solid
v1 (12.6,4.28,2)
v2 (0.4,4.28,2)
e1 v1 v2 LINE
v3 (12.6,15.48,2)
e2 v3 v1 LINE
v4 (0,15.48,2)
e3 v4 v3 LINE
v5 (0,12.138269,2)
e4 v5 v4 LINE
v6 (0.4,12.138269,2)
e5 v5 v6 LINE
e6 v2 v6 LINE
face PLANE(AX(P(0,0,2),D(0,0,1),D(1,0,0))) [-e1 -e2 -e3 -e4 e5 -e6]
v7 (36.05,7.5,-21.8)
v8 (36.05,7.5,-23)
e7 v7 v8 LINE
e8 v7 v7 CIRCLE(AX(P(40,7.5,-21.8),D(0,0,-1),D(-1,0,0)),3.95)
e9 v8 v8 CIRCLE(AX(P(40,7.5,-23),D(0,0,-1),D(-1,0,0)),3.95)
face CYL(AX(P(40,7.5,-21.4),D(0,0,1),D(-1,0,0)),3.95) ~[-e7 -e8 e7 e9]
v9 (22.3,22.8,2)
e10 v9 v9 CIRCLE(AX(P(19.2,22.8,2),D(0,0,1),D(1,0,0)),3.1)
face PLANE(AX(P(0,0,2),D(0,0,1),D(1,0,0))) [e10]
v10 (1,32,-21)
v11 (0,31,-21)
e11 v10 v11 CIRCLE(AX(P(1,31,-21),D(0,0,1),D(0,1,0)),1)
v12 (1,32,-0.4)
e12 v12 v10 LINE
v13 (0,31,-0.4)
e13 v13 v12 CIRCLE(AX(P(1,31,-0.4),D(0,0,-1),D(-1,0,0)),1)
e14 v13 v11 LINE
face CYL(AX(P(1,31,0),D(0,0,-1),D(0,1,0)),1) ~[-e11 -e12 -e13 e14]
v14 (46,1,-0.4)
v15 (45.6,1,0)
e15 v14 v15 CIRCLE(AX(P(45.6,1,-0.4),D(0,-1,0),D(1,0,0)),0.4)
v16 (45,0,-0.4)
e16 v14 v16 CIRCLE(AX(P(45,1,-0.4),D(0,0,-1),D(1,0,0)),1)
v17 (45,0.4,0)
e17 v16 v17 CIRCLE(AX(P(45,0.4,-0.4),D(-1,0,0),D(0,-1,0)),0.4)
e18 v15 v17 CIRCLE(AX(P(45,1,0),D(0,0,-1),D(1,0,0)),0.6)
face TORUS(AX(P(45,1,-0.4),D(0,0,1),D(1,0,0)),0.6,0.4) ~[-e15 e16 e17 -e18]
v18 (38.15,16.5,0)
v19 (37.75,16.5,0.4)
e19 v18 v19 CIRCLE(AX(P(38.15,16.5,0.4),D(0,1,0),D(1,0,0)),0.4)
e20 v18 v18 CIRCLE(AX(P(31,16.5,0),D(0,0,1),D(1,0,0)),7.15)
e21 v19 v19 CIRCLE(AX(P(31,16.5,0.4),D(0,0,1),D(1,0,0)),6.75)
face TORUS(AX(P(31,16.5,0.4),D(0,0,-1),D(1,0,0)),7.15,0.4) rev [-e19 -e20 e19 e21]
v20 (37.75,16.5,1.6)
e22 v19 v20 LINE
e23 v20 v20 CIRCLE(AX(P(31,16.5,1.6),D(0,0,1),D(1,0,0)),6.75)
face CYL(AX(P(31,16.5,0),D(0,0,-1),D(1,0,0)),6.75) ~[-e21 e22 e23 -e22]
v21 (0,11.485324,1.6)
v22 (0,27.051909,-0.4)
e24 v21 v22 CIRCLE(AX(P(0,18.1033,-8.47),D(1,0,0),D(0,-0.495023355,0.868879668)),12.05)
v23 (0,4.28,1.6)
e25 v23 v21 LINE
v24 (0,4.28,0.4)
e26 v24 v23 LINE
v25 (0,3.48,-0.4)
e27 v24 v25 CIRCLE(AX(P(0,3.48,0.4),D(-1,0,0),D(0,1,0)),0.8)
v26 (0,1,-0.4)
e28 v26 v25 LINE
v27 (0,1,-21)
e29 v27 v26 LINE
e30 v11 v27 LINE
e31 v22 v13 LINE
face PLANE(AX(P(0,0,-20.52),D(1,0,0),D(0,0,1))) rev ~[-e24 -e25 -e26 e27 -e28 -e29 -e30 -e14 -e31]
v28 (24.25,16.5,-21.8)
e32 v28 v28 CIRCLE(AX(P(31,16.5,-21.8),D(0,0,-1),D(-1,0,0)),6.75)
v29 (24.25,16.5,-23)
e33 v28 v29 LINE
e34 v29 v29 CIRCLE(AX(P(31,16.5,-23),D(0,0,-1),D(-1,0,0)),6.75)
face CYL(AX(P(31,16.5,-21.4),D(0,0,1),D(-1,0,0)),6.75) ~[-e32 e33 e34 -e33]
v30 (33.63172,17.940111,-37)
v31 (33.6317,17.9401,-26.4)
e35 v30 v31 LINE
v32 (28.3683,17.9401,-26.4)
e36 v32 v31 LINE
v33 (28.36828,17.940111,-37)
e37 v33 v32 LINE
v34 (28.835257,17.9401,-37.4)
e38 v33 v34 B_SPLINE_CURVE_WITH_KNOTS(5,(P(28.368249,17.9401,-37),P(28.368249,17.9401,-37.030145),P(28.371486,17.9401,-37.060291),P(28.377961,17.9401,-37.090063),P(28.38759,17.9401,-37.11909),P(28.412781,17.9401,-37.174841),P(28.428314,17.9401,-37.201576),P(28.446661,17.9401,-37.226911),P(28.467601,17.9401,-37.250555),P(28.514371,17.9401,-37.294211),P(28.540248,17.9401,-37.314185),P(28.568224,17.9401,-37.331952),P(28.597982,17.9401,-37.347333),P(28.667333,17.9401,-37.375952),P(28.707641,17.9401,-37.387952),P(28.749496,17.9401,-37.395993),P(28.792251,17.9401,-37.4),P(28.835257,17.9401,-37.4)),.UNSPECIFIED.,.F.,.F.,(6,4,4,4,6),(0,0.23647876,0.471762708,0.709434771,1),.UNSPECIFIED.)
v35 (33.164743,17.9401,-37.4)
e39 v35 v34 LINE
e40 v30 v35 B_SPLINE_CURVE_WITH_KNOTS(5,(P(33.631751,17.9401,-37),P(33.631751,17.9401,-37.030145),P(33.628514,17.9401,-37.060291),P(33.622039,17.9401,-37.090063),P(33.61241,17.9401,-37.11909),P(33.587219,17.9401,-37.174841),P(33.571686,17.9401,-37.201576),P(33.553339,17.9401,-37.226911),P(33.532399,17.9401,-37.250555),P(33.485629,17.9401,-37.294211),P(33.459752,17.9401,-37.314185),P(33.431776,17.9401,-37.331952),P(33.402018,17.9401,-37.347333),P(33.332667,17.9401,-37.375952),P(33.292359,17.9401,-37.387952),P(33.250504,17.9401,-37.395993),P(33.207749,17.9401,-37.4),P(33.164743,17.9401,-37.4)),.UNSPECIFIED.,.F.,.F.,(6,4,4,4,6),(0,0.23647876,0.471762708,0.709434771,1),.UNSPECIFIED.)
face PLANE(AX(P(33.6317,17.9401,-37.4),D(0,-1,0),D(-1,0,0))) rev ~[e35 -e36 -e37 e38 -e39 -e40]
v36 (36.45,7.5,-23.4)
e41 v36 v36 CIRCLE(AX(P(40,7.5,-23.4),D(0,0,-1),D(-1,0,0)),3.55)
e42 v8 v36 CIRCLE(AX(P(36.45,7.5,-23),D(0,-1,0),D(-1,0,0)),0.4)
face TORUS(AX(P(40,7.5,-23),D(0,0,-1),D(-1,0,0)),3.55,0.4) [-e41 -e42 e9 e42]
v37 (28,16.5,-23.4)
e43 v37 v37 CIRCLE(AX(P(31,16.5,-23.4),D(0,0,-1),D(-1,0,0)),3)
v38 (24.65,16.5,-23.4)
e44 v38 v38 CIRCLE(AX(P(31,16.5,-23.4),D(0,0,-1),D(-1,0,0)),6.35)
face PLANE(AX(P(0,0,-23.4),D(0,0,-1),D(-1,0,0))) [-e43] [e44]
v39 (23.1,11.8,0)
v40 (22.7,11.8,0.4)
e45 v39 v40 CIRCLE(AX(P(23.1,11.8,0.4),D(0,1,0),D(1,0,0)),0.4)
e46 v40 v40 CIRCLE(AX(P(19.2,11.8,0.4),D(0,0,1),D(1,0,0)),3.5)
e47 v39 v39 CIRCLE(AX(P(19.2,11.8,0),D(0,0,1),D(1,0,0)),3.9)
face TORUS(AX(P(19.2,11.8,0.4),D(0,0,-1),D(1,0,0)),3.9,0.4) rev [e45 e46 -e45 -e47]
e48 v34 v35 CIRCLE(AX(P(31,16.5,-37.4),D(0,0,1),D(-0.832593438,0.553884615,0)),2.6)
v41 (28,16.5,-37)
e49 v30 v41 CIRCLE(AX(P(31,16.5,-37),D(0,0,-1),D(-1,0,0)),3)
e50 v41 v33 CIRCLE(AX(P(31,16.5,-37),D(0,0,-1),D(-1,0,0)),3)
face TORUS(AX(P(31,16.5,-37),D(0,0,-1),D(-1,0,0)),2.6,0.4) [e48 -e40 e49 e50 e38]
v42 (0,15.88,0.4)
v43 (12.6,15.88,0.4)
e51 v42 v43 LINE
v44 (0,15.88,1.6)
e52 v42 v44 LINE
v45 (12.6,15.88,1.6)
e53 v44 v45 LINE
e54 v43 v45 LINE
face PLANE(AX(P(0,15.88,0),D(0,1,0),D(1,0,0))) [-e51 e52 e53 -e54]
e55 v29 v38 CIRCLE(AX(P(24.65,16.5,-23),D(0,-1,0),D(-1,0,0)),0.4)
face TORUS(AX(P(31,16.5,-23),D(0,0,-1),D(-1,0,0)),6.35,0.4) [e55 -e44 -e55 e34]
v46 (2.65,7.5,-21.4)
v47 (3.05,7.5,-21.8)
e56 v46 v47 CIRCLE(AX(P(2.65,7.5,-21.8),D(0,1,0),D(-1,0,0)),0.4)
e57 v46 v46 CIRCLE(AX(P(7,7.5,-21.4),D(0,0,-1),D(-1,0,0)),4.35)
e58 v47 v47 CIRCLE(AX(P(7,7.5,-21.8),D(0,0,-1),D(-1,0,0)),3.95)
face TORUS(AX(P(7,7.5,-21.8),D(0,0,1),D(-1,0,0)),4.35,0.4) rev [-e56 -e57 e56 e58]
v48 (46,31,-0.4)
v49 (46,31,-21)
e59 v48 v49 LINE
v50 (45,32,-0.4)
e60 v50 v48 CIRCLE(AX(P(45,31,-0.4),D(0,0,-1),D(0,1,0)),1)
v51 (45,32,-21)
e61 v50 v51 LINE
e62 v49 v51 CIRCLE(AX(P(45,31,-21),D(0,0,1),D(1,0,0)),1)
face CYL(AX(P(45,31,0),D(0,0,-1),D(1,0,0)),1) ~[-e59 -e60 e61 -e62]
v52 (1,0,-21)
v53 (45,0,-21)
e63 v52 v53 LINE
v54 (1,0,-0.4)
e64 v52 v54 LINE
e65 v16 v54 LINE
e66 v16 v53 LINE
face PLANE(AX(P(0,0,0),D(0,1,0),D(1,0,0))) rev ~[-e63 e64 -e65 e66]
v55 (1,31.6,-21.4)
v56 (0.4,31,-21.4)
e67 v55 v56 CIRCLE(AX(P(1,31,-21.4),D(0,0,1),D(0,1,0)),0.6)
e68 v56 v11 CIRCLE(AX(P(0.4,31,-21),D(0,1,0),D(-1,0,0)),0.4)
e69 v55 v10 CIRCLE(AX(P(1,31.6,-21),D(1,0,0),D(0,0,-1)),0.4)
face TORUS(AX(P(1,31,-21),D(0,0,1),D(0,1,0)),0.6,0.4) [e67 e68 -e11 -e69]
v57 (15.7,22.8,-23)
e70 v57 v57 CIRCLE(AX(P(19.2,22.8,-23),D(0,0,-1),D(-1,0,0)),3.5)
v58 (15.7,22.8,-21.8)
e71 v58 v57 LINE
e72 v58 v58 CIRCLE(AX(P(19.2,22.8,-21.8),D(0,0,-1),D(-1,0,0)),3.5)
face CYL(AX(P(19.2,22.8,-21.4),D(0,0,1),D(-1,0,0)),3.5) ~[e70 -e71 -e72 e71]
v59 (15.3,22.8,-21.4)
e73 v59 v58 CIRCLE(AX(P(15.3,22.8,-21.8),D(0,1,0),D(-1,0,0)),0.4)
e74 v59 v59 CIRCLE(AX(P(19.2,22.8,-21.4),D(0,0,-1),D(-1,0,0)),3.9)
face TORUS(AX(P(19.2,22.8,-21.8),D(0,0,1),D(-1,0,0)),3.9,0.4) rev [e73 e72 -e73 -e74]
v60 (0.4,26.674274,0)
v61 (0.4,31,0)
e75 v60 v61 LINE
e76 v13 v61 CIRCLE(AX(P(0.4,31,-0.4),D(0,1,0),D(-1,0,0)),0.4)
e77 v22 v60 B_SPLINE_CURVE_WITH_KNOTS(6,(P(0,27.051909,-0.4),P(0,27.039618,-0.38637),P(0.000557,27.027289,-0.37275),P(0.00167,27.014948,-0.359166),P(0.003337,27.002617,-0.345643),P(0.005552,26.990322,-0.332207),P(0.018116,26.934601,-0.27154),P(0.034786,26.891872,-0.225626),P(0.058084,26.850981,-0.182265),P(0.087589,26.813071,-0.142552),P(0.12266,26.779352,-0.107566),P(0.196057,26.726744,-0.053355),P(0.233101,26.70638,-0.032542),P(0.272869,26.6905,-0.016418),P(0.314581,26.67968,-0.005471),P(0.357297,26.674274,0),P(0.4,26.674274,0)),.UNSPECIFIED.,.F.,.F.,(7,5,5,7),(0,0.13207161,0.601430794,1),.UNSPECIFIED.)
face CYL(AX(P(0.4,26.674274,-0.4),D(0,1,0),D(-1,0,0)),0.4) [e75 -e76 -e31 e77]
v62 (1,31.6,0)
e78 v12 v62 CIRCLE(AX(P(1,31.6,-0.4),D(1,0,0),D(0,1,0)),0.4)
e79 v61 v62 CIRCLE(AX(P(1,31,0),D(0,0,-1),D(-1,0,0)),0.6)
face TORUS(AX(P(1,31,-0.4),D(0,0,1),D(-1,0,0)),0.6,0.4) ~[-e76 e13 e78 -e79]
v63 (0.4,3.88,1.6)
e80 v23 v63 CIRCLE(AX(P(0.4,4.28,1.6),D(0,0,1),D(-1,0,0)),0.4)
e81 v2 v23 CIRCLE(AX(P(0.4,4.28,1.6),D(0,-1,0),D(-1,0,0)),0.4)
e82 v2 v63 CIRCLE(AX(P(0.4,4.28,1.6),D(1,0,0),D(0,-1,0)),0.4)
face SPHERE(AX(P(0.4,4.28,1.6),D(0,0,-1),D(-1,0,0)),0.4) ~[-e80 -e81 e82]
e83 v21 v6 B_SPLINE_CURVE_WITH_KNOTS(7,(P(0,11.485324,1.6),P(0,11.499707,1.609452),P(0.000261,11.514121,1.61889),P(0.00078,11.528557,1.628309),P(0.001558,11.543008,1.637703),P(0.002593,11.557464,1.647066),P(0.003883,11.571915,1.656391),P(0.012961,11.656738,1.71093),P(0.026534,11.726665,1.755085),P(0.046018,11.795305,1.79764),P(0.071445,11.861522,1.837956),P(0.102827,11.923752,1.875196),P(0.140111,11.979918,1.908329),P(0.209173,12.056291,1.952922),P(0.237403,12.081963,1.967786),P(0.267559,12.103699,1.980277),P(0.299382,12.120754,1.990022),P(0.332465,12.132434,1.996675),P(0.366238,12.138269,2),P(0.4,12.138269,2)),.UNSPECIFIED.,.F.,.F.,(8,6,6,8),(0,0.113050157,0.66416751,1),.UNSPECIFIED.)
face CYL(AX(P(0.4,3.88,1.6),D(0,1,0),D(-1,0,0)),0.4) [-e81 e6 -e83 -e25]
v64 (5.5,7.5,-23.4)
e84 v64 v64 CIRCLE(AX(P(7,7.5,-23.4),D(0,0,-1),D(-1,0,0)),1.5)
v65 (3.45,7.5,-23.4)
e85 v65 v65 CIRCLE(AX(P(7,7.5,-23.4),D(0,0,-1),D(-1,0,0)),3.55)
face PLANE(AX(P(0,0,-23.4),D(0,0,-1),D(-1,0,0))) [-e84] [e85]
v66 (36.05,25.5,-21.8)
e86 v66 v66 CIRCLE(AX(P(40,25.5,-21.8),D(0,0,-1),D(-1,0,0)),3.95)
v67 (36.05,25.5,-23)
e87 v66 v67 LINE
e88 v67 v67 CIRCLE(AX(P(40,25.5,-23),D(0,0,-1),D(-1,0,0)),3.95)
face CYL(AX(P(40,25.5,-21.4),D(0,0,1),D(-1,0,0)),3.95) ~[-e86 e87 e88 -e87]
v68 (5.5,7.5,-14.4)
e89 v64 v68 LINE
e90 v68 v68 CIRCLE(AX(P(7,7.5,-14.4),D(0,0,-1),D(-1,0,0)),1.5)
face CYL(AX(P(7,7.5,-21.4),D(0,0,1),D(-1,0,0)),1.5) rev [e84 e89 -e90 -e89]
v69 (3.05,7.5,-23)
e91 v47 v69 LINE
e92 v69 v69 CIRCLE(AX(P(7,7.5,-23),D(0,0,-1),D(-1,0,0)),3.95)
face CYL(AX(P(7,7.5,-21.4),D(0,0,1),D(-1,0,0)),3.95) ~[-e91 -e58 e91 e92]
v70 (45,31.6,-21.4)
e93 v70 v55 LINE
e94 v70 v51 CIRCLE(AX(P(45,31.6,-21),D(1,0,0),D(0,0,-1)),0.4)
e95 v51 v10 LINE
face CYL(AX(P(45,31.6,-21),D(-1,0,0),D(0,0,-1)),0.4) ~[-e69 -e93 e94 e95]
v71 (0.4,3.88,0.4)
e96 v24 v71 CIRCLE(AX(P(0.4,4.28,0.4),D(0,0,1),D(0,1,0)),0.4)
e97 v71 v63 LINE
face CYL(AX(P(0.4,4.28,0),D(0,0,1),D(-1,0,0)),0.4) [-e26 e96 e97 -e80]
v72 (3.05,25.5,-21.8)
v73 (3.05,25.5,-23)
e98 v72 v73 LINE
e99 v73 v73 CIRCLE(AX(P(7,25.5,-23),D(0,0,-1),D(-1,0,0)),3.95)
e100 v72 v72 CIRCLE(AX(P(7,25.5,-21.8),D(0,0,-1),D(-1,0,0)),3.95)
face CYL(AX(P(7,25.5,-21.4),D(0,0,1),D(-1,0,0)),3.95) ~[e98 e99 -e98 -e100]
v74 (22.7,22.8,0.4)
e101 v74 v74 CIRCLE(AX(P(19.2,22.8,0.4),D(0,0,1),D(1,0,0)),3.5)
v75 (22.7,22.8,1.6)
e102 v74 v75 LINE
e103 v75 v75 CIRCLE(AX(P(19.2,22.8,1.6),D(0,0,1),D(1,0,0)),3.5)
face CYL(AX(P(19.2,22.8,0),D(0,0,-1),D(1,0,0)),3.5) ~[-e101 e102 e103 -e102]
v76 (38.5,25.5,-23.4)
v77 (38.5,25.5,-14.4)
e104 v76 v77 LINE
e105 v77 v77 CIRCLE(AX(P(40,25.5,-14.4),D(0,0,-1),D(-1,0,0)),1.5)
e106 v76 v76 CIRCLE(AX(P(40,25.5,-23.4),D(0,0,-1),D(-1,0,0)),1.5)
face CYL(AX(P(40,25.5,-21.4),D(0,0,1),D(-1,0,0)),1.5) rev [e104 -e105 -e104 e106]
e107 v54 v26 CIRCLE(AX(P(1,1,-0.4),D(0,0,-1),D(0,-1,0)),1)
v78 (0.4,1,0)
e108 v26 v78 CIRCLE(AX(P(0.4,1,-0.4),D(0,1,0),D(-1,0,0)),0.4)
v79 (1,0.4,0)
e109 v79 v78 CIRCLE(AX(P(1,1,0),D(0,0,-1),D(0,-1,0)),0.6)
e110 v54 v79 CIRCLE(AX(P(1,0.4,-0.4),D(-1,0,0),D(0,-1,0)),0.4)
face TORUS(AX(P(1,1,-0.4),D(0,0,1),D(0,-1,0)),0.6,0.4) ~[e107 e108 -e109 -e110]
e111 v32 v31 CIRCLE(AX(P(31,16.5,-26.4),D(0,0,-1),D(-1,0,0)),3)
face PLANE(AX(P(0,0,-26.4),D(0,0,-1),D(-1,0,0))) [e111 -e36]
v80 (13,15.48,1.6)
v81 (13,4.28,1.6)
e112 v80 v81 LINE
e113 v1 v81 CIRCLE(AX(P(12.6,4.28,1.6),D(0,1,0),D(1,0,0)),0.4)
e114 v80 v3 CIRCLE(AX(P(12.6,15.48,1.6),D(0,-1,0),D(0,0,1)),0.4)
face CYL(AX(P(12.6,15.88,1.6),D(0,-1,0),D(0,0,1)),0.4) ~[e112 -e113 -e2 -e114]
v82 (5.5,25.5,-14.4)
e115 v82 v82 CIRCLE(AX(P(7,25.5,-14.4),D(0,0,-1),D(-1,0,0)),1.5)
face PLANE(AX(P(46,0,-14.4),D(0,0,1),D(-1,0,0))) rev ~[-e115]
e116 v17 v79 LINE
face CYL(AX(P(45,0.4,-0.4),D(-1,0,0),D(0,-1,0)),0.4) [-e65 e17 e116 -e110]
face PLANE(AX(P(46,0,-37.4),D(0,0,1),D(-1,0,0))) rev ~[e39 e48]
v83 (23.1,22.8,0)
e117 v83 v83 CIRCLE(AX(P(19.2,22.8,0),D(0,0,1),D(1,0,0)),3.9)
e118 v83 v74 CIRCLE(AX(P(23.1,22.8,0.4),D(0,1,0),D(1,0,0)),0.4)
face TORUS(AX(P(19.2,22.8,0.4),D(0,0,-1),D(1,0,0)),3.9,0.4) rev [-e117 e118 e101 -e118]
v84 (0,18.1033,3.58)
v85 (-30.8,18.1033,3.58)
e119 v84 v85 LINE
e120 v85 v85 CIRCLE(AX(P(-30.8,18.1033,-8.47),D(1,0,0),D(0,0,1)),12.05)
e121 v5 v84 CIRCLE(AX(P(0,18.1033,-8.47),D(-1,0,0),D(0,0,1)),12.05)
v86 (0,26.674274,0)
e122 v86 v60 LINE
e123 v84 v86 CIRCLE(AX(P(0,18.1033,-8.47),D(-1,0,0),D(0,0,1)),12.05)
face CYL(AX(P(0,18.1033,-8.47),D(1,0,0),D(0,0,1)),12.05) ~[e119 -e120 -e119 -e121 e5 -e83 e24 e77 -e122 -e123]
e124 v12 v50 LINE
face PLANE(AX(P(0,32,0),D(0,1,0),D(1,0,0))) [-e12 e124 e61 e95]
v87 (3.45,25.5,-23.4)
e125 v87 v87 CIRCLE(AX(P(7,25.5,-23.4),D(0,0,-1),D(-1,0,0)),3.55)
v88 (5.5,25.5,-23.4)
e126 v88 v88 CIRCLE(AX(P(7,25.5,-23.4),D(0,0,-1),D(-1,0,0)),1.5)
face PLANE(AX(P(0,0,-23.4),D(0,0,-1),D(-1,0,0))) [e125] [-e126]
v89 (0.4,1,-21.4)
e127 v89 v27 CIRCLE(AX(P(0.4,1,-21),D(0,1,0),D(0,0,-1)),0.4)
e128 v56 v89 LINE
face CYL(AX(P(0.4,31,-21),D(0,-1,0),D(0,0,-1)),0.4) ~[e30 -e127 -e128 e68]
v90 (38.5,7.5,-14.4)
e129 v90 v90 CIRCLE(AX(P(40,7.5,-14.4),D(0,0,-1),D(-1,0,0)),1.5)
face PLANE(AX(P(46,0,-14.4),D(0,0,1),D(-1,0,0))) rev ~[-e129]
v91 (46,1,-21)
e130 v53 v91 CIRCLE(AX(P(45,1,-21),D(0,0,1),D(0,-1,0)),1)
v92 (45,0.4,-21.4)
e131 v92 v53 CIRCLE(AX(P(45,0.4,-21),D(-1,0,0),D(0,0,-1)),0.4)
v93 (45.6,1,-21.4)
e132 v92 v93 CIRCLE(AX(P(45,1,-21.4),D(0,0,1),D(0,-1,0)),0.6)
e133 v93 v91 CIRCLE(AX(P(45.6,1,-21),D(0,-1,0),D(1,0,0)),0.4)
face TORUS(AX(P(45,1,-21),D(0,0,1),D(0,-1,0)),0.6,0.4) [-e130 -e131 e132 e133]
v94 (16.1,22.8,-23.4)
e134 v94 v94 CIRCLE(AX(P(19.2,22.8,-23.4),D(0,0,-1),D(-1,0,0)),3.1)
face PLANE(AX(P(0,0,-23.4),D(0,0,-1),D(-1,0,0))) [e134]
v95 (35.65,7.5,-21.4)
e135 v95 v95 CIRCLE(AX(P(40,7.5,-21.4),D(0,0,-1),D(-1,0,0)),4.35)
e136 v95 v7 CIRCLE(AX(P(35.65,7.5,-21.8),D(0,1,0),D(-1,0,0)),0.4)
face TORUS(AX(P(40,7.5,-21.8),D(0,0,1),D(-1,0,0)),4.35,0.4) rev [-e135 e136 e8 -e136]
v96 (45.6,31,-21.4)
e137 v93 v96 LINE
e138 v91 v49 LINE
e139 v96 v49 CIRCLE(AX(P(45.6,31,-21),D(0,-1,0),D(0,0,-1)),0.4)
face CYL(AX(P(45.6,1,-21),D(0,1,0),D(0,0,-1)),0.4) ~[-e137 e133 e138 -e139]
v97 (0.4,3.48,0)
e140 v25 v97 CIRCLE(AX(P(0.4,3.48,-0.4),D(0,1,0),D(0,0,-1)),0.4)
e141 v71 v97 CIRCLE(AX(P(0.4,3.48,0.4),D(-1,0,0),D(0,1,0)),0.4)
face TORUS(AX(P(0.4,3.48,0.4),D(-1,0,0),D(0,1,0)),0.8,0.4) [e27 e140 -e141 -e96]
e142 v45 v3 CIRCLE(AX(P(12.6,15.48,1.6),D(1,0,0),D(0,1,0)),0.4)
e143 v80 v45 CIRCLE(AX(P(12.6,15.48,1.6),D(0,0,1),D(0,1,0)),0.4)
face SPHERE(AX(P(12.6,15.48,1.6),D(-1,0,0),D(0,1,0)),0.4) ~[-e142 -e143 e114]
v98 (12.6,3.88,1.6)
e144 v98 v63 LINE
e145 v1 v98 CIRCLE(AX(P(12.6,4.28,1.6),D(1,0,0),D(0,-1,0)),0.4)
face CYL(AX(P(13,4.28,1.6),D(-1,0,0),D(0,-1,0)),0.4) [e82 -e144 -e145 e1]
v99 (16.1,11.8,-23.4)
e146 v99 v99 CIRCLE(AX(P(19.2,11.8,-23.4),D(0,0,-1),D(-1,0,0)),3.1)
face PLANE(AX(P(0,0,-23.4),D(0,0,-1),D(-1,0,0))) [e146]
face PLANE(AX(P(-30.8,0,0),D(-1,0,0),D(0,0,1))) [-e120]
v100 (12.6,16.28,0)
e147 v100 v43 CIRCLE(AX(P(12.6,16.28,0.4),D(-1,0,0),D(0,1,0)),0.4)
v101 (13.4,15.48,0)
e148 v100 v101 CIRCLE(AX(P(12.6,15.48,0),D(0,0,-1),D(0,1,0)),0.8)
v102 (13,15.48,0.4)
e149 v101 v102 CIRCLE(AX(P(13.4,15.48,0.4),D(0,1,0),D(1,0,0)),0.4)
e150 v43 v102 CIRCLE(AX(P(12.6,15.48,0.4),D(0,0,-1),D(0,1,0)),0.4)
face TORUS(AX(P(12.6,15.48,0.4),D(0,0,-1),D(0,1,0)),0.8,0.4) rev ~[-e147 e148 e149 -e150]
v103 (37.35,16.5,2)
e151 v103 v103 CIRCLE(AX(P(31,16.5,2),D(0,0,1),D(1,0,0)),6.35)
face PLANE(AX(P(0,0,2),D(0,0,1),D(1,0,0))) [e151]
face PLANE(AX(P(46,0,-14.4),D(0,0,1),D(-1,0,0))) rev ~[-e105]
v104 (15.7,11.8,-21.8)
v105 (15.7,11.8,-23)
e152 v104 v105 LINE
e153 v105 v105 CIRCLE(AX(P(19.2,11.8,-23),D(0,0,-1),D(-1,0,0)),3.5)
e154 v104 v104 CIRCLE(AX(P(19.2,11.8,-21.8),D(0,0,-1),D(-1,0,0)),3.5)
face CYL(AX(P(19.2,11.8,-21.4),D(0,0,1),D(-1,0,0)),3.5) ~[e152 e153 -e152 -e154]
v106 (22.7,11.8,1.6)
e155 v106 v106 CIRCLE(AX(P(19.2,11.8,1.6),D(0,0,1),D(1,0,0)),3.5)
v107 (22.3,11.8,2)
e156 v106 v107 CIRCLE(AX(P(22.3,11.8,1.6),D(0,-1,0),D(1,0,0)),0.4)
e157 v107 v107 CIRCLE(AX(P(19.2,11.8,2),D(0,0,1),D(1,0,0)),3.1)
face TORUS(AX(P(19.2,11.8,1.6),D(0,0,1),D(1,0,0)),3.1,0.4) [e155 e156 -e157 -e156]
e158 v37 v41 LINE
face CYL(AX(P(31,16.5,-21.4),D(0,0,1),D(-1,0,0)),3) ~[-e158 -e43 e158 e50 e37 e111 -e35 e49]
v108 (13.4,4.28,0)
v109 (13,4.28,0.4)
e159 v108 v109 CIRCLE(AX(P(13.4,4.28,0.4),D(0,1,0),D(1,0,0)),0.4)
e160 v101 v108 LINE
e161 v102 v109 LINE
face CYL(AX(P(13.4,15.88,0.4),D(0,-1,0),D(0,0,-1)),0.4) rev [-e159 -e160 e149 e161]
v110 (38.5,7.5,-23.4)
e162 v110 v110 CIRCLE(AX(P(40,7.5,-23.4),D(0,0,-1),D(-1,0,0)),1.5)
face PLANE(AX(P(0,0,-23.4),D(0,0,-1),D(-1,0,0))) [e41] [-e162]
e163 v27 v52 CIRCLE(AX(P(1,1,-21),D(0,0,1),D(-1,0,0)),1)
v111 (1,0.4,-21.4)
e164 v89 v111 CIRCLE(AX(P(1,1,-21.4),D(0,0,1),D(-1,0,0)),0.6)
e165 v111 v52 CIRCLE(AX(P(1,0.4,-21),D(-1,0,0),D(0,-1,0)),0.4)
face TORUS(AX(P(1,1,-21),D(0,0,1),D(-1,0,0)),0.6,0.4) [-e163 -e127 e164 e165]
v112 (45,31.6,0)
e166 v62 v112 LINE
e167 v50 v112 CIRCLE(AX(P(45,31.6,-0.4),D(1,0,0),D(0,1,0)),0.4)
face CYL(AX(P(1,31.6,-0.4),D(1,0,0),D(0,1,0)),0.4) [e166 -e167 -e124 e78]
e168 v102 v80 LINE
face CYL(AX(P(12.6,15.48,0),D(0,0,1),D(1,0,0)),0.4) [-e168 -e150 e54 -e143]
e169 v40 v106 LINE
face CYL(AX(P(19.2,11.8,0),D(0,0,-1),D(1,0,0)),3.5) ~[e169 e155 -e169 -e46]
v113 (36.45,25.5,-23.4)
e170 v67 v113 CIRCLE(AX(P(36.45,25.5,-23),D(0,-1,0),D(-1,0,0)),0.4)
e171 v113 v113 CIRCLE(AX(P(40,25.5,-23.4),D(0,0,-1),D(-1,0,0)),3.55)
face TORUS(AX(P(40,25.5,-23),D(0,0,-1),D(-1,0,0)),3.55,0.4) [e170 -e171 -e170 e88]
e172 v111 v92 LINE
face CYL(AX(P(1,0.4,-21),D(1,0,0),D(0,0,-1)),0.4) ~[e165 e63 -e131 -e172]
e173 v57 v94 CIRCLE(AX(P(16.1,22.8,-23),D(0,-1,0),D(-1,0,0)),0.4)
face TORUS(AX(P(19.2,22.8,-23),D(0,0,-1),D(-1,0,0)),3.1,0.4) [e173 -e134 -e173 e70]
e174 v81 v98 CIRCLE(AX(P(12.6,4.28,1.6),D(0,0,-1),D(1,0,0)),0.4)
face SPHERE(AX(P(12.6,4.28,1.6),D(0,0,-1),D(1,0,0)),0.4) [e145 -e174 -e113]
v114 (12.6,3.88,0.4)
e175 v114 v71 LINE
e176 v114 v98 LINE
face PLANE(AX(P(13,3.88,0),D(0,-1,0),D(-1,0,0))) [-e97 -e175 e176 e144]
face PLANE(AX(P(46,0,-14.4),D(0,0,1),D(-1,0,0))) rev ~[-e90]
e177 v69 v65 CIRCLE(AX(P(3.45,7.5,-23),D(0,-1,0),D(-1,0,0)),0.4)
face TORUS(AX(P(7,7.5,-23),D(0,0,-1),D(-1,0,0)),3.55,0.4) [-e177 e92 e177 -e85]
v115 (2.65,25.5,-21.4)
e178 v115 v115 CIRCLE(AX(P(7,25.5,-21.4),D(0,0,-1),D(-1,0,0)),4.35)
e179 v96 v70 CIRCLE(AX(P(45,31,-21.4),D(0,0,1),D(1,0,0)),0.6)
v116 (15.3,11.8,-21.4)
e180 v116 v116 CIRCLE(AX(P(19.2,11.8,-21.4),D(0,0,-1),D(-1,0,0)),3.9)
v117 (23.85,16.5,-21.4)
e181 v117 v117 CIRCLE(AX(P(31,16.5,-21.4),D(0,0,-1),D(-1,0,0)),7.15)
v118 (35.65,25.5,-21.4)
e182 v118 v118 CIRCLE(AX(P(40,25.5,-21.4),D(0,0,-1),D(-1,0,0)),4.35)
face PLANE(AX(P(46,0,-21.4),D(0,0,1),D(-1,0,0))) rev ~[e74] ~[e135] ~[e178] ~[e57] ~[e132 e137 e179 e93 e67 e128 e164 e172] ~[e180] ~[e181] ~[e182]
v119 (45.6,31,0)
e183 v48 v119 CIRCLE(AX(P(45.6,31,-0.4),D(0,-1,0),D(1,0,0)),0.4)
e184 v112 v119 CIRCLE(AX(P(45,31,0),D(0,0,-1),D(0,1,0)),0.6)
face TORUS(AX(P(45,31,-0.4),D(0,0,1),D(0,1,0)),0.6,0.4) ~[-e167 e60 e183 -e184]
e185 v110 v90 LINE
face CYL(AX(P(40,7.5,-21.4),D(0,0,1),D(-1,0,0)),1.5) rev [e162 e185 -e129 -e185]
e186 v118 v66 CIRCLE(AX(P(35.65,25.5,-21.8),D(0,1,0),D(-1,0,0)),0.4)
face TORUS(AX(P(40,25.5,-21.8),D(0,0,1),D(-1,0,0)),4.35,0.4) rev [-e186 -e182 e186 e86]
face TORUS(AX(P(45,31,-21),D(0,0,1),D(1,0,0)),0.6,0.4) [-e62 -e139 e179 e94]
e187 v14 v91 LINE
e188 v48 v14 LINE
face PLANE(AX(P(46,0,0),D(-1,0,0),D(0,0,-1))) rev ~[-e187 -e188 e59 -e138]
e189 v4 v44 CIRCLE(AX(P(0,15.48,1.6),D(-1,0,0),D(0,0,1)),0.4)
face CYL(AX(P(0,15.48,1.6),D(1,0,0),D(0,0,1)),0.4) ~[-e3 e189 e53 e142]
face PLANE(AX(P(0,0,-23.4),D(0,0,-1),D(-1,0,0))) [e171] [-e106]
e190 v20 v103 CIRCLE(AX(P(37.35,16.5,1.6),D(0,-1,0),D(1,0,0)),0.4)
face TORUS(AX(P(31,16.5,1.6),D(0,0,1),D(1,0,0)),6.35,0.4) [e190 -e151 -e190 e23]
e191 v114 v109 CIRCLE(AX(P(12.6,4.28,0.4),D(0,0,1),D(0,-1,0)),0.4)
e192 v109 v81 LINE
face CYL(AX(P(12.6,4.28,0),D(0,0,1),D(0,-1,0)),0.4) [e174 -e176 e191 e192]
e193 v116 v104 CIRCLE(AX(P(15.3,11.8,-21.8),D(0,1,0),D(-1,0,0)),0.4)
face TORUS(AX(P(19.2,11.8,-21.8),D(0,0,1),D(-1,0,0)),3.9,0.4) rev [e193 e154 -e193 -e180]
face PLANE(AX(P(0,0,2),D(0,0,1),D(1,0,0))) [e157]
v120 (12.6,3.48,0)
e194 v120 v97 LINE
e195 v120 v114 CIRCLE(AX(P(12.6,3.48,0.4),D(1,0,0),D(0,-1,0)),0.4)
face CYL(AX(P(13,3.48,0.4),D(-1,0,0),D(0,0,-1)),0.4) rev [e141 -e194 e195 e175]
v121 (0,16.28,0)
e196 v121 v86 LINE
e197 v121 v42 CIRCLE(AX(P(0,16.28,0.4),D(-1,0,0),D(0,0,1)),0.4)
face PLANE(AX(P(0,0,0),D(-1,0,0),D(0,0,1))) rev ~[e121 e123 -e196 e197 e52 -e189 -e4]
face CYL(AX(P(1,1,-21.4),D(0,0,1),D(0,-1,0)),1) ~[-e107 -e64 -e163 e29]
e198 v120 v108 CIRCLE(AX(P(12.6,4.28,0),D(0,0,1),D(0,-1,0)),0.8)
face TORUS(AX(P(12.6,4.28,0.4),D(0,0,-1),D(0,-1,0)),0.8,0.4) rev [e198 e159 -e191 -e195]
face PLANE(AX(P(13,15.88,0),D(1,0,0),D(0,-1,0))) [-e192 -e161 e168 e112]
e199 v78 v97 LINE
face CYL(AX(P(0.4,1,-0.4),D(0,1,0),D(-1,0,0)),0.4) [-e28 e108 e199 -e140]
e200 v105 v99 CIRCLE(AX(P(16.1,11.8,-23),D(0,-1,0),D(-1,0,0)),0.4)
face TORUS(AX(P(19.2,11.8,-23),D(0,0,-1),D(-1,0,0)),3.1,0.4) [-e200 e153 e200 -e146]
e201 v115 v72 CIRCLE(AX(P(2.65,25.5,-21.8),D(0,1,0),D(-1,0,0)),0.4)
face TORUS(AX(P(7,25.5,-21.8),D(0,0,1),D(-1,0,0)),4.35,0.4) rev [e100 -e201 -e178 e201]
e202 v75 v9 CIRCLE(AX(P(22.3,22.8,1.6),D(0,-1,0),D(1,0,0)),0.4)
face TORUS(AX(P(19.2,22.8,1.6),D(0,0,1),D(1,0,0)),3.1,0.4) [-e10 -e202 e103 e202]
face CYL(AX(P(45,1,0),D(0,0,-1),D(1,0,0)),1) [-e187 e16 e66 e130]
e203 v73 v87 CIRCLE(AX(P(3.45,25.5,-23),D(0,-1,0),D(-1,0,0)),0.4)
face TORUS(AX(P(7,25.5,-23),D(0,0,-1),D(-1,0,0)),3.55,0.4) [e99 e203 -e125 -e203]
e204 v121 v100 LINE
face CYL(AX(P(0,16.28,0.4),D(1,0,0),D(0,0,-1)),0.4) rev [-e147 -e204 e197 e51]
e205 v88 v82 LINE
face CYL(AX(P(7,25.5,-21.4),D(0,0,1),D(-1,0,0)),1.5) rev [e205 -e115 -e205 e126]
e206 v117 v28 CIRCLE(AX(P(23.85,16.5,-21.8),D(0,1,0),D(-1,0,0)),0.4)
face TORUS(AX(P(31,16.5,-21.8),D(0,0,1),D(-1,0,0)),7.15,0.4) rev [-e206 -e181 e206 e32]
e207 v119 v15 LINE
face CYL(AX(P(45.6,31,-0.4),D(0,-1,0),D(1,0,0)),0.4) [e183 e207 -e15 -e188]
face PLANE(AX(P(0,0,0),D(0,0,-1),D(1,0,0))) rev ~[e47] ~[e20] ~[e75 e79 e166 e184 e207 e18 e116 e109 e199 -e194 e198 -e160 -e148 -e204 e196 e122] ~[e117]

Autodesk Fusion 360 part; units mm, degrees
sketch "Sketch1" plane through (0, 0, 0) normal (0, 1, 0) x (1, 0, 0)
  line L0 (0, 0) -> (46, 0)
  line L1 (46, 0) -> (46, 21.4)
  line L2 (46, 21.4) -> (0, 21.4)
  line L3 (0, 21.4) -> (0, 0)
  line L4 (-30.8, 20.52) -> (0, 20.52)
  line L5 (0, 20.52) -> (0, -3.58)
  line L6 (0, -3.58) -> (-30.8, -3.58)
  line L7 (-30.8, -3.58) -> (-30.8, 20.52)
  line L8 (0, 21.4) -> (0, 20.52)
  dimension "d1" = 21.4
  dimension "d2" = 46
  dimension "d3" = 30.8
  dimension "d4" = 24.1
  dimension "d5" = 0.88
extrude "Extrude1" add sketch "Sketch1" along normal blind 32 contours L0 L1 L2 L3 L5 L8
sketch "Sketch2" plane through (0, 0, 0) normal (-1, 0, 0) x (0, 0, 1)
  line L0 (-21.4, 0) -> (0, 0)
  line L1 (0, 0) -> (0, 32)
  line L2 (0, 32) -> (-21.4, 32)
  line L3 (-21.4, 32) -> (-21.4, 0)
  line L4 (3.58, 0) -> (-20.52, 0)
  line L5 (3.58, 0) -> (-20.52, 0)
  line L6 (-20.52, 0) -> (-20.52, 18.1033) construction
  line L7 (-20.52, 18.1033) -> (3.58, 18.1033) construction
  line L8 (3.58, 18.1033) -> (3.58, 0) construction
  circle A0 centre (-8.47, 18.1033) radius 12.05
  line L9 (-9.0363, 32) -> (-9.0363, 30.14) construction
  point P0 (-20.52, 0)
  point P1 (3.58, 0)
  dimension "d8" = 1.86
extrude "Extrude2" add sketch "Sketch2" along normal up to surface (30.8 mm away) contours L1 A0 | L1 A0
sketch "Sketch3" plane through (0, 0, -21.4) normal (0, 0, -1) x (-1, 0, 0)
  line L0 (-46, 0) -> (0, 0)
  line L1 (0, 0) -> (0, 32)
  line L2 (0, 32) -> (-46, 32)
  line L3 (-46, 32) -> (-46, 0)
  circle A0 centre (-40, 25.5) radius 3.95
  circle A1 centre (-40, 25.5) radius 1.5
  line L4 (-40, 25.5) -> (-7, 25.5) construction
  line L5 (-7, 25.5) -> (-7, 7.5) construction
  line L6 (-7, 7.5) -> (-40, 7.5) construction
  line L7 (-40, 7.5) -> (-40, 25.5) construction
  circle A2 centre (-7, 25.5) radius 1.5
  circle A3 centre (-7, 25.5) radius 3.95
  circle A4 centre (-40, 7.5) radius 1.5
  circle A5 centre (-40, 7.5) radius 3.95
  circle A6 centre (-7, 7.5) radius 1.5
  circle A7 centre (-7, 7.5) radius 3.95
  circle A8 centre (-31, 16.5) radius 6.75
  circle A9 centre (-31, 16.5) radius 3
  circle A10 centre (-19.2, 22.8) radius 3.5
  circle A11 centre (-19.2, 11.8) radius 3.5
  line L8 (-19.2, 11.8) -> (-19.2, 22.8) construction
  dimension "d11" = 7.9
  dimension "d12" = 3
  dimension "d13" = 33
  dimension "d14" = 18
  dimension "d16" = 6
  dimension "d17" = 6.5
  dimension "d18" = 9
  dimension "d19" = 9
  dimension "d20" = 13.5
  dimension "d21" = 6
  dimension "d22" = 7
  dimension "d23" = 7
  dimension "d24" = 20.8
  dimension "d25" = 2.7
  dimension "d26" = 11
extrude "Extrude3" add sketch "Sketch3" along normal blind 2 contours A0 | A3 | A5 | A7 | A8 | A10 | A11
extrude "Extrude4" add 1 faces at (31.7906, 15.5676, -21.4) along direction (0, 0, -1) blind 16
extrude "Extrude5" cut 4 faces at (7.3832, 8.062, -21.4) (7.3384, 25.2183, -21.4) (39.6168, 24.938, -21.4) (40.0399, 7.0346, -21.4) along direction (0, 0, 1) blind 7
sketch "Sketch4" plane through (0, 0, 0) normal (0, 0, 1) x (1, 0, 0)
  line L0 (0, 0) -> (46, 0)
  line L1 (46, 0) -> (46, 32)
  line L2 (46, 32) -> (0, 32)
  line L3 (0, 32) -> (0, 26.6743)
  line L4 (0, 26.6743) -> (0, 9.5323)
  line L5 (0, 9.5323) -> (0, 0)
  line L6 (46, 0) -> (0, 0)
  line L7 (0, 0) -> (0, 32)
  line L8 (0, 32) -> (46, 32)
  line L9 (46, 32) -> (46, 0)
  circle A0 centre (19.2, 22.8) radius 3.5
  circle A1 centre (19.2, 11.8) radius 3.5
  circle A2 centre (31, 16.5) radius 6.75
  line L10 (0, 15.88) -> (13, 15.88)
  line L11 (13, 15.88) -> (13, 3.88)
  line L12 (13, 3.88) -> (0, 3.88)
  line L13 (0, 3.88) -> (0, 15.88)
  dimension "d33" = 13
  dimension "d34" = 12
  dimension "d35" = 3.88
extrude "Extrude6" add sketch "Sketch4" along normal blind 2 contours L4 L5 L7 L10 L11 L12 L13 | A0 | A1 | A2
fillet "Fillet1" radius 1 4 edges at (0, 0, -10.7) (46, 0, -10.7) (0, 32, -10.7) (46, 32, -10.7)
fillet "Fillet2" radius 0.4 47 edges at (23, 32, -21.4) (0.2929, 31.7071, -21.4) (0, 16, -21.4) (0.2929, 0.2929, -21.4) (23, 0, -21.4) (45.7071, 0.2929, -21.4) (46, 16, -21.4) (45.7071, 31.7071, -21.4) (43.6827, 26.9284, -21.4) (43.6827, 24.0716, -23.4) (43.6827, 8.9284, -21.4) (43.6827, 6.0716, -23.4) (22.4631, 10.5343, -23.4) (22.4631, 13.0657, -21.4) (10.6827, 8.9284, -21.4) (10.6827, 6.0716, -23.4) (10.6827, 24.0716, -23.4) (10.6827, 26.9284, -21.4) (22.4631, 21.5343, -23.4) (37.2932, 14.0591, -23.4) (37.2932, 18.9409, -21.4) (22.4631, 24.0657, -21.4) (0, 28.8371, 0) (0.2929, 31.7071, 0) (23, 32, 0) (45.7071, 31.7071, 0) (46, 16, 0) (45.7071, 0.2929, 0) (23, 0, 0) (0.2929, 0.2929, 0) (0, 2.44, 0) (24.7068, 14.0591, 2) (24.7068, 18.9409, 0) (15.9369, 24.0657, 0) (15.9369, 21.5343, 2) (15.9369, 13.0657, 0) (15.9369, 10.5343, 2) (6.5, 15.88, 0) (6.5, 15.88, 2) (13, 9.88, 0) (13, 15.88, 1) (13, 3.88, 1) (13, 9.88, 2) (6.5, 3.88, 0) (0, 3.88, 1) (0, 8.0091, 2) (6.5, 3.88, 2)
fillet "Fillet3" radius 0.4 1 edges at (33.797, 15.4152, -37.4)
sketch "Sketch5" plane through (0, 0, -37.4) normal (0, 0, -1) x (-1, 0, 0)
  circle A0 centre (-31, 16.5) radius 2.6
  circle A1 centre (-31, 16.5) radius 3
  circle A2 centre (-31, 16.5) radius 3
  line L0 (-33.6317, 17.9401) -> (-28.3683, 17.9401)
  line L1 (-31.0251, 17.9401) -> (-31.0251, 13.5001) construction
  dimension "d41" = 4.44
extrude "Extrude7" cut sketch "Sketch5" against normal blind 11 contours A0 L0 | A0 A1 A2 L0 picked at (-31.3547, 18.2508) picked at (-31, 19.3616)
